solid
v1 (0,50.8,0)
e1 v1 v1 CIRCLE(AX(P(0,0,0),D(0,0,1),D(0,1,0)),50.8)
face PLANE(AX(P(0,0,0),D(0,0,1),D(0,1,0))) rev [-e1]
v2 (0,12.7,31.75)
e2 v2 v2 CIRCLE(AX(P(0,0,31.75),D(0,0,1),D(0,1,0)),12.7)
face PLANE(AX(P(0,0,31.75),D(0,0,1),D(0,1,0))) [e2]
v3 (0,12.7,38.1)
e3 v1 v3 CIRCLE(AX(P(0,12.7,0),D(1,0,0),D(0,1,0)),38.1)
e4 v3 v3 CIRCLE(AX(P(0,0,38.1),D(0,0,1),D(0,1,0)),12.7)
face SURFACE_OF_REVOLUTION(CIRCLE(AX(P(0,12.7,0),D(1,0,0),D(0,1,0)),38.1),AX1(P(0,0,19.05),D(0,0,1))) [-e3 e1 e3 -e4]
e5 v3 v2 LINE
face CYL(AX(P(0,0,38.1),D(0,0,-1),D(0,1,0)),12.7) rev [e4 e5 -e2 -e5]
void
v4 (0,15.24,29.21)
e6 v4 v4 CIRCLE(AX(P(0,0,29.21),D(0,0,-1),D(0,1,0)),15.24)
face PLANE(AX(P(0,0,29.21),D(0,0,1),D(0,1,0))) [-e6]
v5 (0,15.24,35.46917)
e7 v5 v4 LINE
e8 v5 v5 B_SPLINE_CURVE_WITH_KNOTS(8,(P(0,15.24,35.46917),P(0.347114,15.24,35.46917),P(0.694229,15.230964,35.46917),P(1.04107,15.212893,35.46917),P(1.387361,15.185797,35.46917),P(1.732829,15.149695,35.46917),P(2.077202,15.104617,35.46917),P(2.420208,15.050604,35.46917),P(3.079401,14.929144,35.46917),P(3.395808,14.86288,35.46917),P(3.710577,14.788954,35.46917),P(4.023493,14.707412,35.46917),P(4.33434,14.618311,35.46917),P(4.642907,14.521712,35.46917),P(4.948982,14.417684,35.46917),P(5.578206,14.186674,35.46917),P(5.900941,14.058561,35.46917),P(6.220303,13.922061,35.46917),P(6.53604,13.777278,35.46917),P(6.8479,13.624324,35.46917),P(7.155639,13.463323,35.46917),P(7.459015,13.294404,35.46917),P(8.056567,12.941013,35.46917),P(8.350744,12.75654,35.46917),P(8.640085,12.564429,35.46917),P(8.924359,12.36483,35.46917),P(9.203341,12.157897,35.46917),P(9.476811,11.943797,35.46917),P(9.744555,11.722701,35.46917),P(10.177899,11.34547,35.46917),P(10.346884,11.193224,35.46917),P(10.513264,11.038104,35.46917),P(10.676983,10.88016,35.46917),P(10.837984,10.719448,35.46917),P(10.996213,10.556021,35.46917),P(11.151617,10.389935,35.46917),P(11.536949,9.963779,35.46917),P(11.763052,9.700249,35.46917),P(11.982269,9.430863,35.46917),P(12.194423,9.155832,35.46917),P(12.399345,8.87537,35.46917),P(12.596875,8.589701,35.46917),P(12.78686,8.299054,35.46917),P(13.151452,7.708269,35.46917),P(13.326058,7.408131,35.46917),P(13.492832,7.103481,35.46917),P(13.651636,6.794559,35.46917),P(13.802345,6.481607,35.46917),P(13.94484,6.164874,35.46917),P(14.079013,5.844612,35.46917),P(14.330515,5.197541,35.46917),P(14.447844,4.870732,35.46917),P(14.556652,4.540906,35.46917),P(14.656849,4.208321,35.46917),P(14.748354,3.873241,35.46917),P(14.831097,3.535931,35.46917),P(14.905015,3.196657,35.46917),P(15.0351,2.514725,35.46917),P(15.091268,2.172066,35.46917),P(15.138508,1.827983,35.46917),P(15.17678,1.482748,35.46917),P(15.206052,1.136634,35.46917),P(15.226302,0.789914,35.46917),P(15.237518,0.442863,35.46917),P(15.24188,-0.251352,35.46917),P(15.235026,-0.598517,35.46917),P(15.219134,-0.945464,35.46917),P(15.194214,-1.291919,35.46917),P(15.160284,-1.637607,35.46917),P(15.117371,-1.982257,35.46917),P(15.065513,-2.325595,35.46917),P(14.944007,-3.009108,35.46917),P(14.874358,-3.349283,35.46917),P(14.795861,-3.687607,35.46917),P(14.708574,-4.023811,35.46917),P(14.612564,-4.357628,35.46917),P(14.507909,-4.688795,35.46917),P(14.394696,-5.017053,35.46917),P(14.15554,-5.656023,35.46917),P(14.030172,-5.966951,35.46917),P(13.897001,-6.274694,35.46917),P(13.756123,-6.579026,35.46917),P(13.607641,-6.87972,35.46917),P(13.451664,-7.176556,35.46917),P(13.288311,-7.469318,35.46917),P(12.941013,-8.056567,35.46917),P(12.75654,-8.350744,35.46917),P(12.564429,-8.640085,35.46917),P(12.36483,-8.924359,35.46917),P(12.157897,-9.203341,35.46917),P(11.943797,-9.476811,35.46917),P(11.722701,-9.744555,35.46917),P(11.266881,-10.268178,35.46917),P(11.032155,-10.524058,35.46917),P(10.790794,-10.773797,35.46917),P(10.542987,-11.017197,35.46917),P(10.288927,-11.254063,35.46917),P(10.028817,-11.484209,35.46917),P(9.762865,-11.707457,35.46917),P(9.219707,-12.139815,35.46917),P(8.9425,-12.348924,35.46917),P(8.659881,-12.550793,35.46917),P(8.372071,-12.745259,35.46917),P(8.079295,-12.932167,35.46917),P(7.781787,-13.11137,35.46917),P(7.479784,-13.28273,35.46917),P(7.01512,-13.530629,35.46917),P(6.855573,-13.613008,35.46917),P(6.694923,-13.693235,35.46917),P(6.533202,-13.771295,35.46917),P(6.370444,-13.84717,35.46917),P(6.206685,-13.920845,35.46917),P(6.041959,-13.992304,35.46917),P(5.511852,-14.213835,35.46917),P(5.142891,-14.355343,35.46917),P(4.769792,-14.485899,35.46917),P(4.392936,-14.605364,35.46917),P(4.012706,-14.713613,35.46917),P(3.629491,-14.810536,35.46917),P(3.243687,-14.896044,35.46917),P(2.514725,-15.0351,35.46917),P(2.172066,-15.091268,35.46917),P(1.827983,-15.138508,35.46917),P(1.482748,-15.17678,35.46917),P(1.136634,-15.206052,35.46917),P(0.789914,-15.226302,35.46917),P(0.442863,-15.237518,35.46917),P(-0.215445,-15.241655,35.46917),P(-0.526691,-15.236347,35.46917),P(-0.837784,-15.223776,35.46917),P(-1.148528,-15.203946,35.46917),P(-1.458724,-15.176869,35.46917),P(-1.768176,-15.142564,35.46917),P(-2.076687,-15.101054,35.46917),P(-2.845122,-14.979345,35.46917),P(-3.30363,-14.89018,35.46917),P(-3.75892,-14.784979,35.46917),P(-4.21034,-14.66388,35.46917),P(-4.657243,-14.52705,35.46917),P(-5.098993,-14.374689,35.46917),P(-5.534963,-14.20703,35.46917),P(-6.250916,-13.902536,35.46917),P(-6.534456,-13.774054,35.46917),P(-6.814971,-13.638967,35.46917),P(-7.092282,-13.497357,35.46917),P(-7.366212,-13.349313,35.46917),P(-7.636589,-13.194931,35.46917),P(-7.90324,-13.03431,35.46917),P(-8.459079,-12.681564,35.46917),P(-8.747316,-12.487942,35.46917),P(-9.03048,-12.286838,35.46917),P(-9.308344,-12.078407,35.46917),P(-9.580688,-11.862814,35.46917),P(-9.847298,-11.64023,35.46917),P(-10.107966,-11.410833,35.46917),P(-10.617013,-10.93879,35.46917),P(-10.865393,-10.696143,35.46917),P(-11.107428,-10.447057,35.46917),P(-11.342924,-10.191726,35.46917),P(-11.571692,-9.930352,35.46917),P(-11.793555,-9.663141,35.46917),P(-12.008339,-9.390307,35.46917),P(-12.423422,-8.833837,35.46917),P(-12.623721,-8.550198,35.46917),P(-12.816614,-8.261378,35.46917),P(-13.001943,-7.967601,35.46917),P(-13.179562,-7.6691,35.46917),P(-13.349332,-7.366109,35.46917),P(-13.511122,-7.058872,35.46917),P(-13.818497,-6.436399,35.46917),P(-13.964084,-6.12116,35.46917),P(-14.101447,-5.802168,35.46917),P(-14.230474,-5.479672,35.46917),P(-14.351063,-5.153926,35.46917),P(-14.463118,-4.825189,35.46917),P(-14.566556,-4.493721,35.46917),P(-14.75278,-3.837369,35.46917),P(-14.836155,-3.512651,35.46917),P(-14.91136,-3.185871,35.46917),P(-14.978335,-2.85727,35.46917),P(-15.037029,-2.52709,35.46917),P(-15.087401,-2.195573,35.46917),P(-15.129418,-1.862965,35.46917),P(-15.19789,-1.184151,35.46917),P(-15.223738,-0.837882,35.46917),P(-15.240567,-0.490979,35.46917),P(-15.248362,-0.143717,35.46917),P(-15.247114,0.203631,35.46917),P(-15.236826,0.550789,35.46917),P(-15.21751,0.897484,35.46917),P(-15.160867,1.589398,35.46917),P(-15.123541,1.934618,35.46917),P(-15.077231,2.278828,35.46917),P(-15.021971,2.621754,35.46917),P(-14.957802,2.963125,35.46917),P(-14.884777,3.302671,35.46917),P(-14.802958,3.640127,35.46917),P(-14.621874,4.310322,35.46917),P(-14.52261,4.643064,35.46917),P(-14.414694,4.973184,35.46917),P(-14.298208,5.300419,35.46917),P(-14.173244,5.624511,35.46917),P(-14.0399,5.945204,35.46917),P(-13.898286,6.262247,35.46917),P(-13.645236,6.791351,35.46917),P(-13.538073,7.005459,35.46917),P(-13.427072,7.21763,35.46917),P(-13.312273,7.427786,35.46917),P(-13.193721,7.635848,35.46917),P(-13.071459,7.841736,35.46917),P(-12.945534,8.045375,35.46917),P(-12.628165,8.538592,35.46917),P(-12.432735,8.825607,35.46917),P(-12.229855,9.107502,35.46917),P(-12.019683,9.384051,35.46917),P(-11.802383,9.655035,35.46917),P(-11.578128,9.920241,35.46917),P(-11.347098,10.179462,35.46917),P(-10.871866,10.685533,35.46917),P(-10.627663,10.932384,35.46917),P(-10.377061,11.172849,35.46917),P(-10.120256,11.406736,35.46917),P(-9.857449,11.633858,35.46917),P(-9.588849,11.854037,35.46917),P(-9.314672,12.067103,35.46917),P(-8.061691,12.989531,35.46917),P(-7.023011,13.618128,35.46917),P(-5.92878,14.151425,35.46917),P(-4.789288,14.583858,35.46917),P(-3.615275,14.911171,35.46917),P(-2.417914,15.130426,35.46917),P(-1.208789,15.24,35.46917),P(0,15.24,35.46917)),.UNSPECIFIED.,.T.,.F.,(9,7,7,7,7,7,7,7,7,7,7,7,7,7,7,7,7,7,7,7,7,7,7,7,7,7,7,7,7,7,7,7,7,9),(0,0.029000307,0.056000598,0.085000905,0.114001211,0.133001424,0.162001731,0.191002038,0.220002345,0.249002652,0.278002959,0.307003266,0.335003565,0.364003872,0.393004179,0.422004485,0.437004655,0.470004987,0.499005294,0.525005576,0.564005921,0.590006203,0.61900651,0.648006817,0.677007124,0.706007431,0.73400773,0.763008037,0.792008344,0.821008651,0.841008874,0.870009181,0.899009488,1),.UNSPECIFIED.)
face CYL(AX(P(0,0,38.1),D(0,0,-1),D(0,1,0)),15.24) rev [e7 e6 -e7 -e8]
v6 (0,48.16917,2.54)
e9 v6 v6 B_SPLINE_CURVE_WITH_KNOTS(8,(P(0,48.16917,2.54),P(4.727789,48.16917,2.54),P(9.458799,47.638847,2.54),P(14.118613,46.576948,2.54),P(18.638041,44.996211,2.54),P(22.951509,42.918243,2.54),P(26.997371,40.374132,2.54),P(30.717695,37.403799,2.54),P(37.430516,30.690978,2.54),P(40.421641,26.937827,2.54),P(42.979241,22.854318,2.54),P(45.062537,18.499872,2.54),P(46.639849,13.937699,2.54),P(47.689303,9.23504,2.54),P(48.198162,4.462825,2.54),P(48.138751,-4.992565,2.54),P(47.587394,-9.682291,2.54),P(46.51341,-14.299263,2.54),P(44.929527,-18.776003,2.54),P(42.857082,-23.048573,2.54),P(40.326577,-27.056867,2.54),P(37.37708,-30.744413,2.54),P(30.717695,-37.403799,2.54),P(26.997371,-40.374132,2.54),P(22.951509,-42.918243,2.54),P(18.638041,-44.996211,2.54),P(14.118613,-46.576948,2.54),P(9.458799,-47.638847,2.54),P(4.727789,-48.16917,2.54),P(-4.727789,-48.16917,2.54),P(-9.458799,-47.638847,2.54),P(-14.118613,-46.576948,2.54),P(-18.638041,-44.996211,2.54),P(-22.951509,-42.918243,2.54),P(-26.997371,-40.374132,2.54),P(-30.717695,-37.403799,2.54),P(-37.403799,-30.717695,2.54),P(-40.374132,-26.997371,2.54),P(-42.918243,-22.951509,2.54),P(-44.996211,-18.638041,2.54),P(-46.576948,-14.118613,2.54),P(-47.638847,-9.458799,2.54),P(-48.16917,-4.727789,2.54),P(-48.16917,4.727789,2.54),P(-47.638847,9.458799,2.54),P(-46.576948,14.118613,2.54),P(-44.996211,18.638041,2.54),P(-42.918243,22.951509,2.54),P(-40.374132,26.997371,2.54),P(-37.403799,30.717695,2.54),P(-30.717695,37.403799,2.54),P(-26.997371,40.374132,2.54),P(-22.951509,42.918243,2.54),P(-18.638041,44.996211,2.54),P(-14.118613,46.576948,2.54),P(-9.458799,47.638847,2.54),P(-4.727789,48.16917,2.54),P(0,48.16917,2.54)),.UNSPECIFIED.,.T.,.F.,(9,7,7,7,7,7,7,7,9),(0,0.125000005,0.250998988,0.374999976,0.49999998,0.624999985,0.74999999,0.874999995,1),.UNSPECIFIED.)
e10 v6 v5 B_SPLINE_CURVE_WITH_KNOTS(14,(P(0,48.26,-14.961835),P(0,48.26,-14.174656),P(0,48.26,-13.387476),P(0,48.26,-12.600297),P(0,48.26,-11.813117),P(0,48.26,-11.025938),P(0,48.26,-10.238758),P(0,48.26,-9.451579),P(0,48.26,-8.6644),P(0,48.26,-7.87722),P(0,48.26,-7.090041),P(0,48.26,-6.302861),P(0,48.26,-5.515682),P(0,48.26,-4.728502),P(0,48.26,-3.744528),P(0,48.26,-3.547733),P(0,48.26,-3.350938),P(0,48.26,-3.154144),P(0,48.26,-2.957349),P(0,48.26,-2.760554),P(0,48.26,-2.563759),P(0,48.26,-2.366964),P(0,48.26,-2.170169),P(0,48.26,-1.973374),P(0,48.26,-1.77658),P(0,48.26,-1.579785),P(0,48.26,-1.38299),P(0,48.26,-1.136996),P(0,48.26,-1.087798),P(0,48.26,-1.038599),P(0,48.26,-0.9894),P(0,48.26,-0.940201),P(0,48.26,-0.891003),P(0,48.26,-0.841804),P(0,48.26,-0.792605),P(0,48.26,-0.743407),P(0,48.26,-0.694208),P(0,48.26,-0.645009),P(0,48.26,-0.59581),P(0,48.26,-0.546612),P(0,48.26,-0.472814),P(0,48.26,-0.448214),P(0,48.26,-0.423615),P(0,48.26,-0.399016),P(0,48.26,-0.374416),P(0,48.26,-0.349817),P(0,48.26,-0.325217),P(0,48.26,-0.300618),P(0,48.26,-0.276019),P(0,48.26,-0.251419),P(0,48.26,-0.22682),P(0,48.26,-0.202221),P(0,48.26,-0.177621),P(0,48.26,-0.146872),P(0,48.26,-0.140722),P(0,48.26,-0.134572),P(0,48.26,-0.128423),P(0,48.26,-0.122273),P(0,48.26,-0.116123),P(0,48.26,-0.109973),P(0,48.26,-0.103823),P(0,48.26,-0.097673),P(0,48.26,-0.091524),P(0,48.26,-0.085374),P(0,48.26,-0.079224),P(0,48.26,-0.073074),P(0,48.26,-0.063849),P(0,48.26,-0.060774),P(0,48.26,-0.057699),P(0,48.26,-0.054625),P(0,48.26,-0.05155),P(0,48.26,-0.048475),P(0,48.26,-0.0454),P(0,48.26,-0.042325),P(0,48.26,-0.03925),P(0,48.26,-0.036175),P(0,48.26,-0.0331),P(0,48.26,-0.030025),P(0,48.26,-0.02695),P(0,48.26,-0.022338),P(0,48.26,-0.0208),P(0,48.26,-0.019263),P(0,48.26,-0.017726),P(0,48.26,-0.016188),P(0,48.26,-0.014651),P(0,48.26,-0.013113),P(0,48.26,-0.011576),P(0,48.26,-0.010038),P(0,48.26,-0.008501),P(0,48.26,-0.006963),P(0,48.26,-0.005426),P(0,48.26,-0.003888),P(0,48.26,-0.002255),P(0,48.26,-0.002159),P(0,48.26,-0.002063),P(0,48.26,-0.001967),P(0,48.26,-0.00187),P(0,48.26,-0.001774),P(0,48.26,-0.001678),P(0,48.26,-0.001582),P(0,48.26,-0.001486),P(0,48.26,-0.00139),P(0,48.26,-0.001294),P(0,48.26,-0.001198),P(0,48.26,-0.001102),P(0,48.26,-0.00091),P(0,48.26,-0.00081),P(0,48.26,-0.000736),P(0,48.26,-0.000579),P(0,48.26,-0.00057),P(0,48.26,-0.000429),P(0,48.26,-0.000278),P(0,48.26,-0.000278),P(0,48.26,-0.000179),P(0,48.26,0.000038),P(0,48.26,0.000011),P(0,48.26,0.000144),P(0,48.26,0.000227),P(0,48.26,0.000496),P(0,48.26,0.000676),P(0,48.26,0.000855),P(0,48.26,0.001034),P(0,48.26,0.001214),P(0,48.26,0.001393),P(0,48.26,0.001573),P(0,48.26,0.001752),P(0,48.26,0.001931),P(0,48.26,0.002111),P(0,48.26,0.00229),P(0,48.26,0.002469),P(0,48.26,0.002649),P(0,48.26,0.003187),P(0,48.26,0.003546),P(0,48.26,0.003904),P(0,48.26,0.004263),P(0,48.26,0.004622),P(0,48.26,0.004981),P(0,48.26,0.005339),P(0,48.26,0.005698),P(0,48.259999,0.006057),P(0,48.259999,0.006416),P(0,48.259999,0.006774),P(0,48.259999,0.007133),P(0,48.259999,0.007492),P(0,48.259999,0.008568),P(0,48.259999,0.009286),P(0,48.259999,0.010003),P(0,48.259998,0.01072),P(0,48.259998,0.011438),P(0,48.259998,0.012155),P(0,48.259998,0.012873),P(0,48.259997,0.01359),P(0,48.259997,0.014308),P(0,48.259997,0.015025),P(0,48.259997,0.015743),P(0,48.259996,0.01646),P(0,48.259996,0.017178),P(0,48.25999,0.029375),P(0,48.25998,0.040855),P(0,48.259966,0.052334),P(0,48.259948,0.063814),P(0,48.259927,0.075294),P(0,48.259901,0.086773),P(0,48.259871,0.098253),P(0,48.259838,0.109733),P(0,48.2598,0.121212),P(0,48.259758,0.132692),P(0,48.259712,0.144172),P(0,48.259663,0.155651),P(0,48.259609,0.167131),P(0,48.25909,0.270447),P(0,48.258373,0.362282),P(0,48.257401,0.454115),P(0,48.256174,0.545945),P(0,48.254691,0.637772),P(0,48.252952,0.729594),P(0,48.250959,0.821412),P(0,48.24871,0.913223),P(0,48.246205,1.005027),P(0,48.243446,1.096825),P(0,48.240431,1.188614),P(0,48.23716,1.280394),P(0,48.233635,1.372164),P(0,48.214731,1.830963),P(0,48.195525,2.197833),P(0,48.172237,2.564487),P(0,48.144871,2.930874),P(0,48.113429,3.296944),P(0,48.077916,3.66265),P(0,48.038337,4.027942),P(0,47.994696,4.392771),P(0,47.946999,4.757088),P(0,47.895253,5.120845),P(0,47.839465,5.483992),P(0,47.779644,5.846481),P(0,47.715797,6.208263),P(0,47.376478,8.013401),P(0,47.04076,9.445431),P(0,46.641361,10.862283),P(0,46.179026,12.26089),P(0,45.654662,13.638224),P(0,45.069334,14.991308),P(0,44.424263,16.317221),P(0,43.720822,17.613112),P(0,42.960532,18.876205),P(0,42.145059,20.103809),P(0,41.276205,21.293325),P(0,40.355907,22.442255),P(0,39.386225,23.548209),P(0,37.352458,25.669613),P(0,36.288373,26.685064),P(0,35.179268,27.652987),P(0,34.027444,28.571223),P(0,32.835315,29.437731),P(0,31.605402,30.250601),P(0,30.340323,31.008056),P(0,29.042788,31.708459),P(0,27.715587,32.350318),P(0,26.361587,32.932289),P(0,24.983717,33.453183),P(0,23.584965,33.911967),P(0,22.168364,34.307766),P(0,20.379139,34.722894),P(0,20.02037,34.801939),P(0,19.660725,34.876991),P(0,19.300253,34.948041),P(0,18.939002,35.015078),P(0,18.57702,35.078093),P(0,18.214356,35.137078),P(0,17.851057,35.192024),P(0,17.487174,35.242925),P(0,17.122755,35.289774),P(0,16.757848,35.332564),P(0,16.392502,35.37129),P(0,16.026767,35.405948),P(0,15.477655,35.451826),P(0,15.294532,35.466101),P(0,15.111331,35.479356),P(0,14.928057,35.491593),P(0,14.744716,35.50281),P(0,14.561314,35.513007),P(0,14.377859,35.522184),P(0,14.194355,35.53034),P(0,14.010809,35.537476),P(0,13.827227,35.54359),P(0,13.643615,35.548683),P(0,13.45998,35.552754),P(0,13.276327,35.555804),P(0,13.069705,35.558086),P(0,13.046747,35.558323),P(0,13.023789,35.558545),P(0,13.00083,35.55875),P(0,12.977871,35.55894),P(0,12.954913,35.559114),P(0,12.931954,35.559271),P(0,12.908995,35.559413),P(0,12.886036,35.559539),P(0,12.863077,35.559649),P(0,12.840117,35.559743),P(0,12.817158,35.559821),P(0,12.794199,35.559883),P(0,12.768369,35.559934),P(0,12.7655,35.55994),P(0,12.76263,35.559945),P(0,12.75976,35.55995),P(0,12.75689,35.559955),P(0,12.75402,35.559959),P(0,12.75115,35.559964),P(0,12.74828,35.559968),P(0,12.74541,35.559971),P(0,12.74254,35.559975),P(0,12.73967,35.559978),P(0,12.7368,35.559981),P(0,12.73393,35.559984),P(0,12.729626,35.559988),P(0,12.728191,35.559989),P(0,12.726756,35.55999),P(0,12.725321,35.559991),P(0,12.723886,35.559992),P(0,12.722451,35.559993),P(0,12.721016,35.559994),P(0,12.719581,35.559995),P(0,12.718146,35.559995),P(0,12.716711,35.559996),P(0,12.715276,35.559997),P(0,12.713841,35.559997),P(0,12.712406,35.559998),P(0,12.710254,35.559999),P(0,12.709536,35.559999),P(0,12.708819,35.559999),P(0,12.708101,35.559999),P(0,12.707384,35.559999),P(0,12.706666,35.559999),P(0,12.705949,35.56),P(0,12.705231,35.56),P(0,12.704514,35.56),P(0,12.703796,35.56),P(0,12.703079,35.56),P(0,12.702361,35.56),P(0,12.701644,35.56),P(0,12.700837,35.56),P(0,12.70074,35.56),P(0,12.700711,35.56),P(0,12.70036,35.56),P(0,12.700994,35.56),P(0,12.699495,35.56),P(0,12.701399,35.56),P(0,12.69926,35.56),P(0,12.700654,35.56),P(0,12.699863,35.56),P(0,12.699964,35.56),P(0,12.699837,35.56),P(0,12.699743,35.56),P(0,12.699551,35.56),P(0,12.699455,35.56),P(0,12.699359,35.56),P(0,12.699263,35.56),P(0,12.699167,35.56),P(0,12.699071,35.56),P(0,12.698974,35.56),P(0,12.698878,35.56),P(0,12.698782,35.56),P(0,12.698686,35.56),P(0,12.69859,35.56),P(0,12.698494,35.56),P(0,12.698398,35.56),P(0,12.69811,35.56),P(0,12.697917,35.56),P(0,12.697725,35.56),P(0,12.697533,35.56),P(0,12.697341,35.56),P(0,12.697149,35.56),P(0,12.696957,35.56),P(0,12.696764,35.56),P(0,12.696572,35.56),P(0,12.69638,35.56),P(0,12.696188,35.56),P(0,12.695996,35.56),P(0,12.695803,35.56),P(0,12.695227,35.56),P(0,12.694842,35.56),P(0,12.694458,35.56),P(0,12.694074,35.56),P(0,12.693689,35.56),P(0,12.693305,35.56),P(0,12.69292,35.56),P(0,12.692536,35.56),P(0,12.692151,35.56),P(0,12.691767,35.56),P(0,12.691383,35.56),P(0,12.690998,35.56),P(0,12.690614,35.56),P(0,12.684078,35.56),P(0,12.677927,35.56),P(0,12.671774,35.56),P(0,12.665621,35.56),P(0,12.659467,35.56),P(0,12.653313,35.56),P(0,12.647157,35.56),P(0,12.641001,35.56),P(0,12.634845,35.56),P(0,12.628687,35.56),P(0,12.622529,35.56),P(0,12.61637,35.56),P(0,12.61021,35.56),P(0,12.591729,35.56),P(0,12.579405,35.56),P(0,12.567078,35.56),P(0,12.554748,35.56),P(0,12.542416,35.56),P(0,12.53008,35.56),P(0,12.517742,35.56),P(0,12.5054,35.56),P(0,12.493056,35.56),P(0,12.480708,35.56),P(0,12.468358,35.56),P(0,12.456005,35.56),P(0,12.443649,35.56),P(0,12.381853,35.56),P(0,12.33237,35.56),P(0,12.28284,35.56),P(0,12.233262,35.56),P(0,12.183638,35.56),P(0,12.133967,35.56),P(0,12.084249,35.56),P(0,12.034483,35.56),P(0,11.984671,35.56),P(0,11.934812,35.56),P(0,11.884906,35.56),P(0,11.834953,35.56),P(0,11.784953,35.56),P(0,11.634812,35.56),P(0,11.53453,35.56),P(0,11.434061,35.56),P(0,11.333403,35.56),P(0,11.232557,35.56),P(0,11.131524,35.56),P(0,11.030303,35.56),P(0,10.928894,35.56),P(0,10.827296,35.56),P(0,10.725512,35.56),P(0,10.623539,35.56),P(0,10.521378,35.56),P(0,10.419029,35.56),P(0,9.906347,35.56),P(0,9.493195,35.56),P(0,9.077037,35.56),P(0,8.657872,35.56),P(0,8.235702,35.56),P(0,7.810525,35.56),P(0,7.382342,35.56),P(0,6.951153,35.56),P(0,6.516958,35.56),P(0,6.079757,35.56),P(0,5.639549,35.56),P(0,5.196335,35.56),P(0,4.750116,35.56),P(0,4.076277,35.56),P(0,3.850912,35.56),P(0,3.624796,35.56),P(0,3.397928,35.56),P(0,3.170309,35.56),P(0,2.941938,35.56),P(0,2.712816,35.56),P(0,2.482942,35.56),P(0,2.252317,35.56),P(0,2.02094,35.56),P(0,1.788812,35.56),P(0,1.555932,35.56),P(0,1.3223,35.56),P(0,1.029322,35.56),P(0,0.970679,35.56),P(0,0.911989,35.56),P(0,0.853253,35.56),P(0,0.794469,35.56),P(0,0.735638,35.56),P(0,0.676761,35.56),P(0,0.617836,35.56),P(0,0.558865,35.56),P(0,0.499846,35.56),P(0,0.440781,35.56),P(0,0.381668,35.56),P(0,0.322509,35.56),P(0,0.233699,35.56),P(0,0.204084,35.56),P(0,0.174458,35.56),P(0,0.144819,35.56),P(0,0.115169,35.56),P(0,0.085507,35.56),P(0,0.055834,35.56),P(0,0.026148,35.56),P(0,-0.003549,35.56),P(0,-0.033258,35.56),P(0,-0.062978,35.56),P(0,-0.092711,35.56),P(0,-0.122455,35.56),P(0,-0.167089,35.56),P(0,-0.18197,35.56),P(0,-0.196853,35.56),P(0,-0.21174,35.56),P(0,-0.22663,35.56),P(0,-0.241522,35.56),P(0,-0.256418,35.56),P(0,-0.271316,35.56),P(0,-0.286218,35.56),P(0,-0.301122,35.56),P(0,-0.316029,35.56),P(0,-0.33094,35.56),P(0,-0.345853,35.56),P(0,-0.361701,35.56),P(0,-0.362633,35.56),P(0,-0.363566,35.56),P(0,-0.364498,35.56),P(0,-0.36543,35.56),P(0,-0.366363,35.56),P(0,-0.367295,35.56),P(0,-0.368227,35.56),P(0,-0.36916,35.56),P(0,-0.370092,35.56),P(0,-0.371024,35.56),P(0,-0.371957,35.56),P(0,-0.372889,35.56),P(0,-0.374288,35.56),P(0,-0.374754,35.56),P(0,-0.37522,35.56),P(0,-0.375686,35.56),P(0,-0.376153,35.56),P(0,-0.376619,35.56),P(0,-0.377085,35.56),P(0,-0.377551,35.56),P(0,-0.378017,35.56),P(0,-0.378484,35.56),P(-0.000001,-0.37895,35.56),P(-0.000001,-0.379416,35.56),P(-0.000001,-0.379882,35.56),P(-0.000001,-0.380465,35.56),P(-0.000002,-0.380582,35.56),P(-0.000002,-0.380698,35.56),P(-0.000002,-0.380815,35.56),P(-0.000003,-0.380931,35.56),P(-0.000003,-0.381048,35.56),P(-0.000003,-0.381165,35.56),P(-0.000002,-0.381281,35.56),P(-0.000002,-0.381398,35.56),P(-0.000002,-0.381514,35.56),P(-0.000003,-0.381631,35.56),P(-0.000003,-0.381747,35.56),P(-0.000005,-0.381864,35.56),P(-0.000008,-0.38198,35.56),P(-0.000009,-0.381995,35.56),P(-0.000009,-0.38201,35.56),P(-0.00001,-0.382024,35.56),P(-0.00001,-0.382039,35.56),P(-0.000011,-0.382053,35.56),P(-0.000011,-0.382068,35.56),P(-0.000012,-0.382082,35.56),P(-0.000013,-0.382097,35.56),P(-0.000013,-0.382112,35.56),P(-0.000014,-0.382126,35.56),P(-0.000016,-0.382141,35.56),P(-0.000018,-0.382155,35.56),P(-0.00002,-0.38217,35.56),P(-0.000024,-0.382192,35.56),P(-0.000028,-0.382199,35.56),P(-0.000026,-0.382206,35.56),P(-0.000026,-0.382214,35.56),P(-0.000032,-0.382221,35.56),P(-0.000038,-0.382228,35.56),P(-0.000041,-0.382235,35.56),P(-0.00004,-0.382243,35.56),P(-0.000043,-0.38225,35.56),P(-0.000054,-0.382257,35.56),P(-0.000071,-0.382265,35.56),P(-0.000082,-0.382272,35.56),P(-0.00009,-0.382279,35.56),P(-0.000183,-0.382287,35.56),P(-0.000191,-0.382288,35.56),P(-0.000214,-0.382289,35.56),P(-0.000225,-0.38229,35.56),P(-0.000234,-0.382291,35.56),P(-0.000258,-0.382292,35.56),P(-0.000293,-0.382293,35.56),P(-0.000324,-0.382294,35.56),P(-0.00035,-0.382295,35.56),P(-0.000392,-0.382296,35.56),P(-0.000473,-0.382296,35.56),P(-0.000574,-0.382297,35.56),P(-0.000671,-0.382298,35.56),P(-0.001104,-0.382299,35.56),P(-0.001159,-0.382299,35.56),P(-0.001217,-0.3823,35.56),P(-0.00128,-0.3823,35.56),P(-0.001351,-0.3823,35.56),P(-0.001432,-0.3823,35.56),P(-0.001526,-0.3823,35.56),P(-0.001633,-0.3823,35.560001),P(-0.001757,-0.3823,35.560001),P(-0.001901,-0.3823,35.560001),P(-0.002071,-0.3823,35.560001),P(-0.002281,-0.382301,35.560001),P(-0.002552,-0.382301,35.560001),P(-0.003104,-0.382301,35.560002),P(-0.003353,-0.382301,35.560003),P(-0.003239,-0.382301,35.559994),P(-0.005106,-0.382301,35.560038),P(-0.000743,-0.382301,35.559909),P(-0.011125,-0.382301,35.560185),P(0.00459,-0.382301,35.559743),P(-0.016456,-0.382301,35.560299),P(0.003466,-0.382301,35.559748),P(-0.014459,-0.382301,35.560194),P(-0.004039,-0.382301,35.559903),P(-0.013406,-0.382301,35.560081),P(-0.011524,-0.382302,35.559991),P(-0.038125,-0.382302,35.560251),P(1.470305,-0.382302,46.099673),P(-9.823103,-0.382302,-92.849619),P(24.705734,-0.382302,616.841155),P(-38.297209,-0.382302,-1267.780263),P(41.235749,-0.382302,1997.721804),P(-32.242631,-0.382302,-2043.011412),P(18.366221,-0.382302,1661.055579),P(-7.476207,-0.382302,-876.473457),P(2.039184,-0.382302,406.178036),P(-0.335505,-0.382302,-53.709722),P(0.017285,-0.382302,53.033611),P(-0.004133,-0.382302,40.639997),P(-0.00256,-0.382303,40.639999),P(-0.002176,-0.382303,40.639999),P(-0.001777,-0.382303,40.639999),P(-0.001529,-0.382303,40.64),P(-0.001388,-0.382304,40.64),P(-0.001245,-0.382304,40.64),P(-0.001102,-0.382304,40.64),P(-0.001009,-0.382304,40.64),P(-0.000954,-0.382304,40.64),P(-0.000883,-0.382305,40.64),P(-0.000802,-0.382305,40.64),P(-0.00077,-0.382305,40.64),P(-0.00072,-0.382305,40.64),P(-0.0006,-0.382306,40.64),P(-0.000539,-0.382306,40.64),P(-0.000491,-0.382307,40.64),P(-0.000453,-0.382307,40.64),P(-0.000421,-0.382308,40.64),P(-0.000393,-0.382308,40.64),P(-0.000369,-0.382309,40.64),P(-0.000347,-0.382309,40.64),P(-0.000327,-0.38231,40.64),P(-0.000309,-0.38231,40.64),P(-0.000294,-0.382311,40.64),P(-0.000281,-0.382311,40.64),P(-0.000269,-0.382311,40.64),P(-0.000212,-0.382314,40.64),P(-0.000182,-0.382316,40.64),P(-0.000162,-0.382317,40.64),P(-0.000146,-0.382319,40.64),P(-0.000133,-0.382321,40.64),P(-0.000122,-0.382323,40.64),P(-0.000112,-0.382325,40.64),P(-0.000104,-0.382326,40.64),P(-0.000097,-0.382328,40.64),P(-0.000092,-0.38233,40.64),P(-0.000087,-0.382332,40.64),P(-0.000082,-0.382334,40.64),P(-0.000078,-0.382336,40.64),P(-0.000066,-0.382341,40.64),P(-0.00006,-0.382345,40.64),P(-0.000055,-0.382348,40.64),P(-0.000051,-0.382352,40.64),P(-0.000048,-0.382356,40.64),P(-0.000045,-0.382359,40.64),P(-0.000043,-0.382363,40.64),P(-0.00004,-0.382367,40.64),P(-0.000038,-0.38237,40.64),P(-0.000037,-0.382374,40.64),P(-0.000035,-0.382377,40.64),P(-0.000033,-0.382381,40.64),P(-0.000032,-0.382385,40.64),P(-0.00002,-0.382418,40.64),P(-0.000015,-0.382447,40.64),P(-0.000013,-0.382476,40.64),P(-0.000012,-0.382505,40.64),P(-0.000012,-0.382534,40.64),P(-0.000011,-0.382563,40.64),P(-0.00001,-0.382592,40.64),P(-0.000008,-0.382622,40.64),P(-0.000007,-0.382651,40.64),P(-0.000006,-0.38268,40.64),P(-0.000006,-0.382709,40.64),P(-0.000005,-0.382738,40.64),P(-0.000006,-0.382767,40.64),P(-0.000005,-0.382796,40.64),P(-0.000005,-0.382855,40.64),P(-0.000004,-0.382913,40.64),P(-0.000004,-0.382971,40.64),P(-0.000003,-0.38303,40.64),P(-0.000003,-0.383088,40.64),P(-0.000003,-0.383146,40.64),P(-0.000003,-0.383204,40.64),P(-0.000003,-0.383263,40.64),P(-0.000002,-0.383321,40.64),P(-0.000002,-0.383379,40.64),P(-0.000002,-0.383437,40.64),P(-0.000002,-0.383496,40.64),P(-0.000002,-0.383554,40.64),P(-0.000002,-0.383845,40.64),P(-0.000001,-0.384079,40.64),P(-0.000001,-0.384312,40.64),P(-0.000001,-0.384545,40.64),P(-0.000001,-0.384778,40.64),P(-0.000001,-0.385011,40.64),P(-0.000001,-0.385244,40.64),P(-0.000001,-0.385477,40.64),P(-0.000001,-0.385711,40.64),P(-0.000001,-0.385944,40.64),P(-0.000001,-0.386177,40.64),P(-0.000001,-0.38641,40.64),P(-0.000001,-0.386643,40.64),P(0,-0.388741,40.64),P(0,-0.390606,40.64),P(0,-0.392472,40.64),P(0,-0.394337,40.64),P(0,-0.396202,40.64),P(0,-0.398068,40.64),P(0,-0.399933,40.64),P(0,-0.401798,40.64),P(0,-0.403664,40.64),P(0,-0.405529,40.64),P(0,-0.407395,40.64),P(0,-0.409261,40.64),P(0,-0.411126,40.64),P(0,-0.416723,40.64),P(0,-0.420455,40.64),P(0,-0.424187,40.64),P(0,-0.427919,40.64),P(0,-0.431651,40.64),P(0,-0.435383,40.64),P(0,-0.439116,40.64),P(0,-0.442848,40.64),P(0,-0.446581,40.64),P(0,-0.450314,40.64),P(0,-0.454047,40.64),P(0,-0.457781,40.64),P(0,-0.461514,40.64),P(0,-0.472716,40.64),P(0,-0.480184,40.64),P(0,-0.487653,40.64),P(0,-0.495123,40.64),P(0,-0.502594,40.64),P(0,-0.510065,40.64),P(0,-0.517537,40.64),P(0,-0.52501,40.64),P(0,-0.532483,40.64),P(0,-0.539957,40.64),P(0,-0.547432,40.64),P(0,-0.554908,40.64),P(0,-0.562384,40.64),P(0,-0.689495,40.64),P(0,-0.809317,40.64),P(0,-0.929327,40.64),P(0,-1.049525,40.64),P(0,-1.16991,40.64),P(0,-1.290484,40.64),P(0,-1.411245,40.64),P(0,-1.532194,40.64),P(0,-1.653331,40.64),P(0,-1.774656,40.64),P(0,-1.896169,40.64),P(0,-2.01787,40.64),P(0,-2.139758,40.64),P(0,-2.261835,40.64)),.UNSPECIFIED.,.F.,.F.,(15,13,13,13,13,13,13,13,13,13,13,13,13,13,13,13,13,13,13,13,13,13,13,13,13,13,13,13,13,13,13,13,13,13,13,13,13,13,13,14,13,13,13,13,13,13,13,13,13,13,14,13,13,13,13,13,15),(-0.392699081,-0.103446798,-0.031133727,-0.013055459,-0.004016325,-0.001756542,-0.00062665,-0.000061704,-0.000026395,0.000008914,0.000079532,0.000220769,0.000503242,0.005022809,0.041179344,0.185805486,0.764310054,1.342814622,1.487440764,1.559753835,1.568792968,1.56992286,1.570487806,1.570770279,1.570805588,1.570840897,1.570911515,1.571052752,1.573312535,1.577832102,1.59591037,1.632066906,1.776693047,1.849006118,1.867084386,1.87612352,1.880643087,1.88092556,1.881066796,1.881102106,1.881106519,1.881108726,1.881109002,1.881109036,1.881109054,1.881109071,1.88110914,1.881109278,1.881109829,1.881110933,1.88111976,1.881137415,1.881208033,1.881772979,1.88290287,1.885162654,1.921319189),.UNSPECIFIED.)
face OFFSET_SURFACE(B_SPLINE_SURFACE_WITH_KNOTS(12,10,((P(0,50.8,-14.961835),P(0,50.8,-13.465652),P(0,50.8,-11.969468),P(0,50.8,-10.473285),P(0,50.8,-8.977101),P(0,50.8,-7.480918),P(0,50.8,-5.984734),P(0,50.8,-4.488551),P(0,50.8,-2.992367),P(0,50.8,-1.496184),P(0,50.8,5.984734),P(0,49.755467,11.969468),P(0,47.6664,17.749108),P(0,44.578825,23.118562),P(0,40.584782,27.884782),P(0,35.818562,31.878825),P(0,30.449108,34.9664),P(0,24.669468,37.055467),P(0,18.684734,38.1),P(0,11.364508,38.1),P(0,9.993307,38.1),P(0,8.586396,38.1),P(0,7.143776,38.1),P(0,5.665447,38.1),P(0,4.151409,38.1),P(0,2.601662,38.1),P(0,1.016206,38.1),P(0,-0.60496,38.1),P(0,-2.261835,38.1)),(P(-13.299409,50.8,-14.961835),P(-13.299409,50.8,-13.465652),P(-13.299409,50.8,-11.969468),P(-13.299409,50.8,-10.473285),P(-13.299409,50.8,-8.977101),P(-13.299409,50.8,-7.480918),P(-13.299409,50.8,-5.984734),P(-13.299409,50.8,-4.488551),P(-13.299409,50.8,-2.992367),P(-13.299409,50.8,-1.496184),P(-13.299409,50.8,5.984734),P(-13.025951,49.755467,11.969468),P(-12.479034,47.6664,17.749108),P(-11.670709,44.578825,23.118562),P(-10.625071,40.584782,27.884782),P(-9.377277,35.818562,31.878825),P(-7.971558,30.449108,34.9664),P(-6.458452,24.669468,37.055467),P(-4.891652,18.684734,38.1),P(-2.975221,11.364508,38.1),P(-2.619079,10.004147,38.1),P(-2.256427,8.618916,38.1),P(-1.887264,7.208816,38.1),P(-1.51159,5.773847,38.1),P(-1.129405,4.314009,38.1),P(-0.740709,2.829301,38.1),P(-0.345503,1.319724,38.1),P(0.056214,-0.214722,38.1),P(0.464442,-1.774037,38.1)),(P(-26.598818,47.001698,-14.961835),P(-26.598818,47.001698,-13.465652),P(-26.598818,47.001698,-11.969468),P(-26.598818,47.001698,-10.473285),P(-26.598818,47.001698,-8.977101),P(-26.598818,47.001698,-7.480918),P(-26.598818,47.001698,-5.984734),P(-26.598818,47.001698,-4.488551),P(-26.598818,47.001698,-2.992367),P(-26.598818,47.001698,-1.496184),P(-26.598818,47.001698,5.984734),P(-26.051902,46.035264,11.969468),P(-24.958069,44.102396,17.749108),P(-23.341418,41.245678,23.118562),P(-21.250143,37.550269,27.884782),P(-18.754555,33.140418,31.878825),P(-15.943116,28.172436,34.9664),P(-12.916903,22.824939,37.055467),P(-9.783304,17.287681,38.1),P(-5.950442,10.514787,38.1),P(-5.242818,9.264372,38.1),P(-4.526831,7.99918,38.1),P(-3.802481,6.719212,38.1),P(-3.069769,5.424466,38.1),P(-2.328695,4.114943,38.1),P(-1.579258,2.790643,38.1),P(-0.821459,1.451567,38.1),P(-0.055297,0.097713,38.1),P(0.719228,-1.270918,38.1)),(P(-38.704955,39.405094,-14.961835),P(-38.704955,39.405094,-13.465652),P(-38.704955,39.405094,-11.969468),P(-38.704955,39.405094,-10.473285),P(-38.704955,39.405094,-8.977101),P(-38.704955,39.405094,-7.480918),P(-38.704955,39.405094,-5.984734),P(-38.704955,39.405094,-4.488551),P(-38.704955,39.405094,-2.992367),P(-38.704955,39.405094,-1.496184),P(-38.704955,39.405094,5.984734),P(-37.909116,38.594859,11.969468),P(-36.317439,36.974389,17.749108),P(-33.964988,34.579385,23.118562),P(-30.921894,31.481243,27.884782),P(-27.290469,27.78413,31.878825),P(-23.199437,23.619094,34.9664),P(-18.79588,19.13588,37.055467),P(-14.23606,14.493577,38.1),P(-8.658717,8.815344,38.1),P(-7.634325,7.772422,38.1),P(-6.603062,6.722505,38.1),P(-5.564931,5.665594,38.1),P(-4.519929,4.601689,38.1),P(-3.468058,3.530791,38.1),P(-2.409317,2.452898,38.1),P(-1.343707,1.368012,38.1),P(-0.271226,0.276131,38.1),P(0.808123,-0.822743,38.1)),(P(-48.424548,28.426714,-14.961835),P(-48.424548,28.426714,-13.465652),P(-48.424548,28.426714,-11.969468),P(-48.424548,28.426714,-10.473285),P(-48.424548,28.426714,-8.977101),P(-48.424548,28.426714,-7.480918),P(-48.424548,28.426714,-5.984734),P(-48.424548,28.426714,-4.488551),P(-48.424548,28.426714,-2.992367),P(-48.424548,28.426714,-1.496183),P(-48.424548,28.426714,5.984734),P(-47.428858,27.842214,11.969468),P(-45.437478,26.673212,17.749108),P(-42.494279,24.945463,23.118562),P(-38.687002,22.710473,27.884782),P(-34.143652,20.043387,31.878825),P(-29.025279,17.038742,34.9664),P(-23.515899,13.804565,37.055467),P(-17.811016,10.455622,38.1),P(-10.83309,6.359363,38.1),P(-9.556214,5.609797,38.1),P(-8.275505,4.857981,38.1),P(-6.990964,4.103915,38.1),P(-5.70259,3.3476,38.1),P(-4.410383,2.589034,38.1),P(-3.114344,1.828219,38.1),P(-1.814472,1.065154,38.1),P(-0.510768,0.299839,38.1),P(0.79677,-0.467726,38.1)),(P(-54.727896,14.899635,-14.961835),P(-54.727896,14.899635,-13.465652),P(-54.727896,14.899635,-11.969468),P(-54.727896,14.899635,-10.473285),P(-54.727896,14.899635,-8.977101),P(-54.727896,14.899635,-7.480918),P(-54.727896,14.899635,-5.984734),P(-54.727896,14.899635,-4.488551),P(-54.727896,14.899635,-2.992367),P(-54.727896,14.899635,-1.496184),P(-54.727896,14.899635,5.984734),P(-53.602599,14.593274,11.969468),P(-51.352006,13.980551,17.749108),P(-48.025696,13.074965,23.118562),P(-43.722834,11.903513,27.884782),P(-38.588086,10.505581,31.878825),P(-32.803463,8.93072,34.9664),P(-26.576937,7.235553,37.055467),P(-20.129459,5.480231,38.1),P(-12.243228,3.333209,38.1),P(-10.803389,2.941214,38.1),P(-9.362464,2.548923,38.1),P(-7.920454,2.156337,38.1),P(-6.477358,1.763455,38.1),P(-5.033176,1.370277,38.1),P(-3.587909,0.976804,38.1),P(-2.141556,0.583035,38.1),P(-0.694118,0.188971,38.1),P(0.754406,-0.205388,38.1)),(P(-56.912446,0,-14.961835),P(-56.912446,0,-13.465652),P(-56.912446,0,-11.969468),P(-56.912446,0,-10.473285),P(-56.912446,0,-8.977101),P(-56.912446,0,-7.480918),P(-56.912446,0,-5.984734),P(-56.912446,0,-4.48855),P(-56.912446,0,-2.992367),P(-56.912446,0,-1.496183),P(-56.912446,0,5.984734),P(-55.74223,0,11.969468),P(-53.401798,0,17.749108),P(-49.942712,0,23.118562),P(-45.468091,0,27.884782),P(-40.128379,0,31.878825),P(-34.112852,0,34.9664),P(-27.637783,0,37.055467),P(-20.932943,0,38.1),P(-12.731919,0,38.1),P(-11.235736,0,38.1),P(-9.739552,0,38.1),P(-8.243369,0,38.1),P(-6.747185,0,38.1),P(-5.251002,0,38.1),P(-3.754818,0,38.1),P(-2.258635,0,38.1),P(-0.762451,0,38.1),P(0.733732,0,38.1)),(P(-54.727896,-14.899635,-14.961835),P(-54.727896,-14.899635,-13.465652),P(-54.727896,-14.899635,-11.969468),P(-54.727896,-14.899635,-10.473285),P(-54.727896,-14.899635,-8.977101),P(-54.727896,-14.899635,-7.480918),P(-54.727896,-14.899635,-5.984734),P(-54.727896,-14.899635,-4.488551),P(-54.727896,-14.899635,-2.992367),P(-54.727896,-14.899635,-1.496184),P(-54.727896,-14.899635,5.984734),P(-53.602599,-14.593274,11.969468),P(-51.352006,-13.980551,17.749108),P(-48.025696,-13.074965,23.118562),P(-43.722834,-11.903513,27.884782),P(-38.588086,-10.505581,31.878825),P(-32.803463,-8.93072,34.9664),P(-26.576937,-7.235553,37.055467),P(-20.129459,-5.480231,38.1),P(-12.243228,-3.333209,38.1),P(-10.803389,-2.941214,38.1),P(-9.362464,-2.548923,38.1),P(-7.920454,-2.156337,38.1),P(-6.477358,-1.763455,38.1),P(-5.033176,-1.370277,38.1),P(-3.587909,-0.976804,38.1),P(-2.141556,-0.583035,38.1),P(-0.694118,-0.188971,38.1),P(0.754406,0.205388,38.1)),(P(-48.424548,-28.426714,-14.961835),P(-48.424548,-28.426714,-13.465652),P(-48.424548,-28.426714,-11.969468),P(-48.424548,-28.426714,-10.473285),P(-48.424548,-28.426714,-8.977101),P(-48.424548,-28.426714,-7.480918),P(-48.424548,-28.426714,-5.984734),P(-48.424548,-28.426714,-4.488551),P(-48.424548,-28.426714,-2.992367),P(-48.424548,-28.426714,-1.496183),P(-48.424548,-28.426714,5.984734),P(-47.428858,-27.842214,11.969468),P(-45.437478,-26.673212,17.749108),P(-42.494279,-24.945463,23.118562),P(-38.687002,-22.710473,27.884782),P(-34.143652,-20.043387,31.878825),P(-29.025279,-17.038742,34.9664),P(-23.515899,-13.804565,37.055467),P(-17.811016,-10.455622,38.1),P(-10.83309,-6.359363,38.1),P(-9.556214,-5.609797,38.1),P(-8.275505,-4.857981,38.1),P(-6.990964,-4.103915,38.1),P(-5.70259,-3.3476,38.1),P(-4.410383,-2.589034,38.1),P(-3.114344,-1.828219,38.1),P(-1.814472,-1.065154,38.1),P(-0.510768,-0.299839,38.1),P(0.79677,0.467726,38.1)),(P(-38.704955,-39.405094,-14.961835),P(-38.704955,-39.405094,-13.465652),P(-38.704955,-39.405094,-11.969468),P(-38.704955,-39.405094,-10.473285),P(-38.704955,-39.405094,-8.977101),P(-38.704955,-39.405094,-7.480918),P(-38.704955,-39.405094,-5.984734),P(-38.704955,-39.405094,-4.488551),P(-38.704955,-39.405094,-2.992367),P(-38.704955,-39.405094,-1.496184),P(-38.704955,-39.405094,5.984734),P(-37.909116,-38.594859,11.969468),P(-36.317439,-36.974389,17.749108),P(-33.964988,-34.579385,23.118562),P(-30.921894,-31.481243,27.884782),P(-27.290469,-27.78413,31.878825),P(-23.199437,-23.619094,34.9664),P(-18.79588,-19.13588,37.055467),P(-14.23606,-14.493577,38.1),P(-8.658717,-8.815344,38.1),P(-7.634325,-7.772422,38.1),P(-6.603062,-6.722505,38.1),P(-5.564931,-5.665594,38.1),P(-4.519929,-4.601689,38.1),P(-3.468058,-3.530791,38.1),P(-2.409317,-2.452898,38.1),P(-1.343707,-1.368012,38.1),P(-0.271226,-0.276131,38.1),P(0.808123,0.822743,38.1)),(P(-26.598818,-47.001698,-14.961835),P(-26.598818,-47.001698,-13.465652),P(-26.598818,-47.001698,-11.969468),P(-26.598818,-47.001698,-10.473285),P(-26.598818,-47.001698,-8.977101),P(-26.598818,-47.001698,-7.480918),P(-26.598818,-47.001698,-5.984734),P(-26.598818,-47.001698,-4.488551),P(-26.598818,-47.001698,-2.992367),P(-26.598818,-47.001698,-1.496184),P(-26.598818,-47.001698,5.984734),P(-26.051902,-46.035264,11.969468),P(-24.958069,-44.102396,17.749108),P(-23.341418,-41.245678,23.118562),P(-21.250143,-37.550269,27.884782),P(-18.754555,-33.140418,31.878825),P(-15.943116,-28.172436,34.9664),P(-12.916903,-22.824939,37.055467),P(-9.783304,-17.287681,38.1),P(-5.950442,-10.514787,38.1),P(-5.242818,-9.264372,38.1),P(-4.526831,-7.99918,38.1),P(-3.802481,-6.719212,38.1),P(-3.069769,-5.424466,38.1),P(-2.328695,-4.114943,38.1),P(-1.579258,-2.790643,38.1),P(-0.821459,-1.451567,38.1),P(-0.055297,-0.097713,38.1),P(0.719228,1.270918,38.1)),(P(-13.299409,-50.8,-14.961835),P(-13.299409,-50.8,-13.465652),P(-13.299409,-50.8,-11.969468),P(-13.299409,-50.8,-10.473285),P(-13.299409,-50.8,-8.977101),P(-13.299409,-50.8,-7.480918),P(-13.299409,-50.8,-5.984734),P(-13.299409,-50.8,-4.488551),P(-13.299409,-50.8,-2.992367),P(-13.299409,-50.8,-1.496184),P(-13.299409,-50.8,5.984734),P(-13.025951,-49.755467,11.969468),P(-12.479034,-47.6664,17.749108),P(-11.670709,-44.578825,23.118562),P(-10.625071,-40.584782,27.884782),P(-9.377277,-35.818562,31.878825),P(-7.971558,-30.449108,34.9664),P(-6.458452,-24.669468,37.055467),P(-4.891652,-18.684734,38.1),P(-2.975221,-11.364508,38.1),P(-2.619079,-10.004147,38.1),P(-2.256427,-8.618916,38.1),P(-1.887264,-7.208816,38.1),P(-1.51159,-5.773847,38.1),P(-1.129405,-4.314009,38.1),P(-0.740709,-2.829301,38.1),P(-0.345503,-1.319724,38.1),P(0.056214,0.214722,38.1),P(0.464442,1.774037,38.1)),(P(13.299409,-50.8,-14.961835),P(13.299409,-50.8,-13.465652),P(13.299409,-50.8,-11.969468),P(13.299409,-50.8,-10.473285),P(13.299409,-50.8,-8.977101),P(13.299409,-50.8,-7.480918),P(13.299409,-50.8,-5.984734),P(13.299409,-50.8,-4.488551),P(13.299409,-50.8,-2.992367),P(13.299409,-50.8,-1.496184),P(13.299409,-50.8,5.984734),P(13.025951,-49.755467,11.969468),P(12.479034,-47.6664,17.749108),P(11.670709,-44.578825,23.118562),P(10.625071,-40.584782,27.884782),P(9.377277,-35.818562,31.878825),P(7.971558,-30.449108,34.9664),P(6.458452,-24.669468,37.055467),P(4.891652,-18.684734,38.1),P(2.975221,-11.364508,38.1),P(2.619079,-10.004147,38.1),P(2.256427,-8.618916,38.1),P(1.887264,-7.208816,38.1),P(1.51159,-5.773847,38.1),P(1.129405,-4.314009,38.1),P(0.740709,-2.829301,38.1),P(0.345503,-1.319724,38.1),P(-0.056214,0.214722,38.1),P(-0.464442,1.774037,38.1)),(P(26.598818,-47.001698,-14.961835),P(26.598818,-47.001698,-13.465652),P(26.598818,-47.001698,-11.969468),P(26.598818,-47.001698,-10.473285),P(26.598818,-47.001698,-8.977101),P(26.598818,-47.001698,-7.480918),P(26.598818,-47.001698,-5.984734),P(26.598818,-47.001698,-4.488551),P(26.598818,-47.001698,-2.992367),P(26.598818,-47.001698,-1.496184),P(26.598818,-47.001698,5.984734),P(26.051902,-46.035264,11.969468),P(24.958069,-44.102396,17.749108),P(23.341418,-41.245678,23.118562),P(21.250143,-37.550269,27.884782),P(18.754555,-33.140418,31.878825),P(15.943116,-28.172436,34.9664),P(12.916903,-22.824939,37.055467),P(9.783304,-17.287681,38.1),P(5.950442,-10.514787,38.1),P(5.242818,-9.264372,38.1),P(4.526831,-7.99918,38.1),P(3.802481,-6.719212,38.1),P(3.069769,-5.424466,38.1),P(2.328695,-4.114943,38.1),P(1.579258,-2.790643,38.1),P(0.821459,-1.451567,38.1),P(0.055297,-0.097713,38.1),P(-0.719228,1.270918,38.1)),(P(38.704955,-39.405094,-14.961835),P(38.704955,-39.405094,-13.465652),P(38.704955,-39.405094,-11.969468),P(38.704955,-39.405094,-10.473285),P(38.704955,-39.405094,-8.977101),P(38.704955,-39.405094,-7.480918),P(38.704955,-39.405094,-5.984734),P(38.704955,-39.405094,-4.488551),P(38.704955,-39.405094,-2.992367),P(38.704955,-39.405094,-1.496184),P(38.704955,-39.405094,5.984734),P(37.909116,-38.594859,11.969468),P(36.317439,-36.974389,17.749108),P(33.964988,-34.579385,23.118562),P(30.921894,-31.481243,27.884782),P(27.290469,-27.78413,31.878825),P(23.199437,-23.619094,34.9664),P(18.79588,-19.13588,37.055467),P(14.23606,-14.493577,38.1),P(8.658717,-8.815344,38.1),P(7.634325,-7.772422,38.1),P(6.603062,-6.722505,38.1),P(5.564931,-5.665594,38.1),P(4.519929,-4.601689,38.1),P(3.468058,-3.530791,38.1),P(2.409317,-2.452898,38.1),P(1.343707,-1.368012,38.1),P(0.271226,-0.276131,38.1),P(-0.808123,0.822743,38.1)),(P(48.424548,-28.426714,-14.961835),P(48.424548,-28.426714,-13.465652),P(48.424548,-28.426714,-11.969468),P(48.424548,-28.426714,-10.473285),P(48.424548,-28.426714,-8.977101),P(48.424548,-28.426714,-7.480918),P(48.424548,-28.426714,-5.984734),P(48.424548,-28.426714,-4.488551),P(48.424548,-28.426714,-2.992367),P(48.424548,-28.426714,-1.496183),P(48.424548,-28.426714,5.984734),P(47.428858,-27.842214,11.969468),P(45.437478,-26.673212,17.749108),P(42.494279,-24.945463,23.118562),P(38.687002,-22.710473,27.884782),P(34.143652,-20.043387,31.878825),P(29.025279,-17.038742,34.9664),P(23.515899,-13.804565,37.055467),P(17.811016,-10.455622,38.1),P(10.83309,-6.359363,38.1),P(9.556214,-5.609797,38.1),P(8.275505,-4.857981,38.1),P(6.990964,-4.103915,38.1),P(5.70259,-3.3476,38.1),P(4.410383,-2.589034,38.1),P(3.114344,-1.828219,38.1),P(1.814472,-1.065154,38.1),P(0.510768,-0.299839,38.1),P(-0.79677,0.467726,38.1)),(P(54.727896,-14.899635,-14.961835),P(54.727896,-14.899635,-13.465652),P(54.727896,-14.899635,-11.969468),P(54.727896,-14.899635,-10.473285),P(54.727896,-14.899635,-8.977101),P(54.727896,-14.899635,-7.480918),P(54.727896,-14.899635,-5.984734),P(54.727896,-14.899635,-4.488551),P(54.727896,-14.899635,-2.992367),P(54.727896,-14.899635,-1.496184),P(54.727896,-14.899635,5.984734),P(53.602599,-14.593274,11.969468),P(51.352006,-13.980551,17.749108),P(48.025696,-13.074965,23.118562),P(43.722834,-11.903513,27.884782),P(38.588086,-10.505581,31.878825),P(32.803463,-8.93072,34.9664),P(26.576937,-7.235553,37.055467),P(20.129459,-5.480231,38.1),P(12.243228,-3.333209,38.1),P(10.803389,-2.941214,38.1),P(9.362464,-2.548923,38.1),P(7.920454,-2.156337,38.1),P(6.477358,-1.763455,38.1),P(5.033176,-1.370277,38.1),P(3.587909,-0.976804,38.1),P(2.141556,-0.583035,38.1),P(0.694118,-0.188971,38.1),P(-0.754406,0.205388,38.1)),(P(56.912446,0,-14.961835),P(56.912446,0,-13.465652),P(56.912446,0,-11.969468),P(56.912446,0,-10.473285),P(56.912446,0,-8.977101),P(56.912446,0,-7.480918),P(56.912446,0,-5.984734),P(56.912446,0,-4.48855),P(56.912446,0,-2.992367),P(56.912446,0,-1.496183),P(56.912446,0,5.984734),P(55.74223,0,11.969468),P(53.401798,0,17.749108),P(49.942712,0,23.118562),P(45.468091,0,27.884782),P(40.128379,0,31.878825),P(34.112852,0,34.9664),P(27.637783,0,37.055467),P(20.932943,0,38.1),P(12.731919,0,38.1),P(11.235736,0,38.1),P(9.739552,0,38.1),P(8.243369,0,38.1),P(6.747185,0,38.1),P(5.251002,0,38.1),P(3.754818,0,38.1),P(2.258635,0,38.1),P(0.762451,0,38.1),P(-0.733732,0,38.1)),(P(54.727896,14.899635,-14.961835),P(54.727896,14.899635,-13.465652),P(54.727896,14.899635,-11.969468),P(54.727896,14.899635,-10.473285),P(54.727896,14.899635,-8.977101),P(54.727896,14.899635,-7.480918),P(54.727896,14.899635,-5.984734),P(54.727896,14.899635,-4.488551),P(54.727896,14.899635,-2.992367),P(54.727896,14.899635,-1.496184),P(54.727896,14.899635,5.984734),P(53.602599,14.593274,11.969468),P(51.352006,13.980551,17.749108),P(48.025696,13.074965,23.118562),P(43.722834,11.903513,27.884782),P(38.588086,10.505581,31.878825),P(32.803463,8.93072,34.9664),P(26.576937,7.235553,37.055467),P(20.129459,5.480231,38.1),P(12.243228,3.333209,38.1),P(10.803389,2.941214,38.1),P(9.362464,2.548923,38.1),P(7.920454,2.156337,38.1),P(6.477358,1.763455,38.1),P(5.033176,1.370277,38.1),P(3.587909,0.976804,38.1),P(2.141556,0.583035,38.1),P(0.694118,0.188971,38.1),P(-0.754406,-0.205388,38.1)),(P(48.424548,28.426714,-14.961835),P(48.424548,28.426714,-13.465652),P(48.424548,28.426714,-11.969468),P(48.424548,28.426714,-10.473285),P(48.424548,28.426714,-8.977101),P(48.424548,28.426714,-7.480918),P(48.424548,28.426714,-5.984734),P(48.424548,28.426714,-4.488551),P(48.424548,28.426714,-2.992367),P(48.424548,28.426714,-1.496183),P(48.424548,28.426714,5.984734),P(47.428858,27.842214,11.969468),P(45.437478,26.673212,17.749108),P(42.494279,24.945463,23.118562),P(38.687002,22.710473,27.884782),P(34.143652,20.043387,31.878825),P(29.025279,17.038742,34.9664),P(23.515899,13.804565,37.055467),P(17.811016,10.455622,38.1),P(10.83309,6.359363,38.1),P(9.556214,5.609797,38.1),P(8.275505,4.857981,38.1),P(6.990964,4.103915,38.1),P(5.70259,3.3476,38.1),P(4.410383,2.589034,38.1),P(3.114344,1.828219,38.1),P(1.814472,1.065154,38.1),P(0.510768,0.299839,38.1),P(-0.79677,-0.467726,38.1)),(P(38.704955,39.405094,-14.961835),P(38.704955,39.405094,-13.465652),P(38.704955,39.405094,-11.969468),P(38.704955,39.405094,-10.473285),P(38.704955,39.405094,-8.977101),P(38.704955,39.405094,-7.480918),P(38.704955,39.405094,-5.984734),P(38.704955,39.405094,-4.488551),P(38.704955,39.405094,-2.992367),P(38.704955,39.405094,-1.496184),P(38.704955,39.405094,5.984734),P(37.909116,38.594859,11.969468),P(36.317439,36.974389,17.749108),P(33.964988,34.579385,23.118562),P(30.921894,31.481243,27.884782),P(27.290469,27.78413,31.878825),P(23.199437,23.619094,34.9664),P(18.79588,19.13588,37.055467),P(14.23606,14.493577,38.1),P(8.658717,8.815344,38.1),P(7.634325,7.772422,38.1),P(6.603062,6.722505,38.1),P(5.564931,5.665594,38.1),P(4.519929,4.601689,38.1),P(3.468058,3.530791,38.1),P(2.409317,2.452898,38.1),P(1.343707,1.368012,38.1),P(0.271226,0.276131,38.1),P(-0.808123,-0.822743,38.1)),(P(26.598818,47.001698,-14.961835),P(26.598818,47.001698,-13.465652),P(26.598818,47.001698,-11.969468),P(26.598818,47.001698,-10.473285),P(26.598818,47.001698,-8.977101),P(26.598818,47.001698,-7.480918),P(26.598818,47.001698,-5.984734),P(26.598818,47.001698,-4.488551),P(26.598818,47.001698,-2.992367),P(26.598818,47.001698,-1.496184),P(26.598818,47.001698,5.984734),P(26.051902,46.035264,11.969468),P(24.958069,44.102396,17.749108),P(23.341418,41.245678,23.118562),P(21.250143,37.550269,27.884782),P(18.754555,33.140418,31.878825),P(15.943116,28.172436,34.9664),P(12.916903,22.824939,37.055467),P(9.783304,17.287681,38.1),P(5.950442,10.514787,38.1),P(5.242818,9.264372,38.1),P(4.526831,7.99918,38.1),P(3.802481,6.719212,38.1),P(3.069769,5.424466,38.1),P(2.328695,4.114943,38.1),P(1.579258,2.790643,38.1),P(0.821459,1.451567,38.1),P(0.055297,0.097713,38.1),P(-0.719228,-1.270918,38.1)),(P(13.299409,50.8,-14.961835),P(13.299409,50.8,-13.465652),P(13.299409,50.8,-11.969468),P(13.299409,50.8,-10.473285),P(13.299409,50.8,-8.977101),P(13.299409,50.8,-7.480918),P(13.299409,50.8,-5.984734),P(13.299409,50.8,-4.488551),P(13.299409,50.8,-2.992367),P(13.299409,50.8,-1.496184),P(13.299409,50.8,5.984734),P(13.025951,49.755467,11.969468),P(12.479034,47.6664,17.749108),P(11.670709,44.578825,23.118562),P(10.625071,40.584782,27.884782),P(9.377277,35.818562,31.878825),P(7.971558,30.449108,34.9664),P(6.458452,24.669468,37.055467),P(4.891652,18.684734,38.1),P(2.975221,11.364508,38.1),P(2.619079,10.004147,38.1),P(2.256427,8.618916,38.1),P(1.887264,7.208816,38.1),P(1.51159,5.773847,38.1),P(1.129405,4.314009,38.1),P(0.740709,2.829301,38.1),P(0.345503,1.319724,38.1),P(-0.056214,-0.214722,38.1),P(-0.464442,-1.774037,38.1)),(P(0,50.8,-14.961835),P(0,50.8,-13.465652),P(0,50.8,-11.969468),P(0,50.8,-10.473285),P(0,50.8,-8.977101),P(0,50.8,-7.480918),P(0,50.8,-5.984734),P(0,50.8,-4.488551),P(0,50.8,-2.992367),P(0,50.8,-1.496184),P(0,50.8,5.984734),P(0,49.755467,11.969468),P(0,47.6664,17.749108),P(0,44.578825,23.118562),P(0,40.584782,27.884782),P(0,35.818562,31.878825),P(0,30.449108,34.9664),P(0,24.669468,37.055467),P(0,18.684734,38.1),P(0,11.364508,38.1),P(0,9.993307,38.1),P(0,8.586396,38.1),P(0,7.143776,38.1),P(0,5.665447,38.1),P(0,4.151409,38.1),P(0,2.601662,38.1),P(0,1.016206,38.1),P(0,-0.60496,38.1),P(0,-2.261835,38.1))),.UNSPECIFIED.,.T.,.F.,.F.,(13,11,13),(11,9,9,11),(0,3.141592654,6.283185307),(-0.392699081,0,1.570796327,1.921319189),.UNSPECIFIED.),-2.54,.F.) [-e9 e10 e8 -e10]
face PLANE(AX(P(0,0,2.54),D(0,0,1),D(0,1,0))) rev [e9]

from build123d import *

# Parameters (mm, degrees)
F2_T = -2.54


with BuildPart() as f1:
    # F0 (on Right) → F1 (revolve)
    with BuildSketch(Plane.YZ):
        with BuildLine():
            Line((0, 31.75), (0, 0))
            Line((0, 0), (50.8, 0))
            ThreePointArc((50.8, 0), (39.6407683632, 26.9407683632), (12.7, 38.1))
            Line((12.7, 38.1), (12.7, 31.75))
            Line((12.7, 31.75), (0, 31.75))
        make_face()
    revolve(axis=Axis((0, 0, 19.05), (0, 0, 1)))

    # F2 (hollow: no face is removed)
    offset(amount=F2_T, kind=Kind.INTERSECTION, mode=Mode.SUBTRACT)


solid = f1.part
